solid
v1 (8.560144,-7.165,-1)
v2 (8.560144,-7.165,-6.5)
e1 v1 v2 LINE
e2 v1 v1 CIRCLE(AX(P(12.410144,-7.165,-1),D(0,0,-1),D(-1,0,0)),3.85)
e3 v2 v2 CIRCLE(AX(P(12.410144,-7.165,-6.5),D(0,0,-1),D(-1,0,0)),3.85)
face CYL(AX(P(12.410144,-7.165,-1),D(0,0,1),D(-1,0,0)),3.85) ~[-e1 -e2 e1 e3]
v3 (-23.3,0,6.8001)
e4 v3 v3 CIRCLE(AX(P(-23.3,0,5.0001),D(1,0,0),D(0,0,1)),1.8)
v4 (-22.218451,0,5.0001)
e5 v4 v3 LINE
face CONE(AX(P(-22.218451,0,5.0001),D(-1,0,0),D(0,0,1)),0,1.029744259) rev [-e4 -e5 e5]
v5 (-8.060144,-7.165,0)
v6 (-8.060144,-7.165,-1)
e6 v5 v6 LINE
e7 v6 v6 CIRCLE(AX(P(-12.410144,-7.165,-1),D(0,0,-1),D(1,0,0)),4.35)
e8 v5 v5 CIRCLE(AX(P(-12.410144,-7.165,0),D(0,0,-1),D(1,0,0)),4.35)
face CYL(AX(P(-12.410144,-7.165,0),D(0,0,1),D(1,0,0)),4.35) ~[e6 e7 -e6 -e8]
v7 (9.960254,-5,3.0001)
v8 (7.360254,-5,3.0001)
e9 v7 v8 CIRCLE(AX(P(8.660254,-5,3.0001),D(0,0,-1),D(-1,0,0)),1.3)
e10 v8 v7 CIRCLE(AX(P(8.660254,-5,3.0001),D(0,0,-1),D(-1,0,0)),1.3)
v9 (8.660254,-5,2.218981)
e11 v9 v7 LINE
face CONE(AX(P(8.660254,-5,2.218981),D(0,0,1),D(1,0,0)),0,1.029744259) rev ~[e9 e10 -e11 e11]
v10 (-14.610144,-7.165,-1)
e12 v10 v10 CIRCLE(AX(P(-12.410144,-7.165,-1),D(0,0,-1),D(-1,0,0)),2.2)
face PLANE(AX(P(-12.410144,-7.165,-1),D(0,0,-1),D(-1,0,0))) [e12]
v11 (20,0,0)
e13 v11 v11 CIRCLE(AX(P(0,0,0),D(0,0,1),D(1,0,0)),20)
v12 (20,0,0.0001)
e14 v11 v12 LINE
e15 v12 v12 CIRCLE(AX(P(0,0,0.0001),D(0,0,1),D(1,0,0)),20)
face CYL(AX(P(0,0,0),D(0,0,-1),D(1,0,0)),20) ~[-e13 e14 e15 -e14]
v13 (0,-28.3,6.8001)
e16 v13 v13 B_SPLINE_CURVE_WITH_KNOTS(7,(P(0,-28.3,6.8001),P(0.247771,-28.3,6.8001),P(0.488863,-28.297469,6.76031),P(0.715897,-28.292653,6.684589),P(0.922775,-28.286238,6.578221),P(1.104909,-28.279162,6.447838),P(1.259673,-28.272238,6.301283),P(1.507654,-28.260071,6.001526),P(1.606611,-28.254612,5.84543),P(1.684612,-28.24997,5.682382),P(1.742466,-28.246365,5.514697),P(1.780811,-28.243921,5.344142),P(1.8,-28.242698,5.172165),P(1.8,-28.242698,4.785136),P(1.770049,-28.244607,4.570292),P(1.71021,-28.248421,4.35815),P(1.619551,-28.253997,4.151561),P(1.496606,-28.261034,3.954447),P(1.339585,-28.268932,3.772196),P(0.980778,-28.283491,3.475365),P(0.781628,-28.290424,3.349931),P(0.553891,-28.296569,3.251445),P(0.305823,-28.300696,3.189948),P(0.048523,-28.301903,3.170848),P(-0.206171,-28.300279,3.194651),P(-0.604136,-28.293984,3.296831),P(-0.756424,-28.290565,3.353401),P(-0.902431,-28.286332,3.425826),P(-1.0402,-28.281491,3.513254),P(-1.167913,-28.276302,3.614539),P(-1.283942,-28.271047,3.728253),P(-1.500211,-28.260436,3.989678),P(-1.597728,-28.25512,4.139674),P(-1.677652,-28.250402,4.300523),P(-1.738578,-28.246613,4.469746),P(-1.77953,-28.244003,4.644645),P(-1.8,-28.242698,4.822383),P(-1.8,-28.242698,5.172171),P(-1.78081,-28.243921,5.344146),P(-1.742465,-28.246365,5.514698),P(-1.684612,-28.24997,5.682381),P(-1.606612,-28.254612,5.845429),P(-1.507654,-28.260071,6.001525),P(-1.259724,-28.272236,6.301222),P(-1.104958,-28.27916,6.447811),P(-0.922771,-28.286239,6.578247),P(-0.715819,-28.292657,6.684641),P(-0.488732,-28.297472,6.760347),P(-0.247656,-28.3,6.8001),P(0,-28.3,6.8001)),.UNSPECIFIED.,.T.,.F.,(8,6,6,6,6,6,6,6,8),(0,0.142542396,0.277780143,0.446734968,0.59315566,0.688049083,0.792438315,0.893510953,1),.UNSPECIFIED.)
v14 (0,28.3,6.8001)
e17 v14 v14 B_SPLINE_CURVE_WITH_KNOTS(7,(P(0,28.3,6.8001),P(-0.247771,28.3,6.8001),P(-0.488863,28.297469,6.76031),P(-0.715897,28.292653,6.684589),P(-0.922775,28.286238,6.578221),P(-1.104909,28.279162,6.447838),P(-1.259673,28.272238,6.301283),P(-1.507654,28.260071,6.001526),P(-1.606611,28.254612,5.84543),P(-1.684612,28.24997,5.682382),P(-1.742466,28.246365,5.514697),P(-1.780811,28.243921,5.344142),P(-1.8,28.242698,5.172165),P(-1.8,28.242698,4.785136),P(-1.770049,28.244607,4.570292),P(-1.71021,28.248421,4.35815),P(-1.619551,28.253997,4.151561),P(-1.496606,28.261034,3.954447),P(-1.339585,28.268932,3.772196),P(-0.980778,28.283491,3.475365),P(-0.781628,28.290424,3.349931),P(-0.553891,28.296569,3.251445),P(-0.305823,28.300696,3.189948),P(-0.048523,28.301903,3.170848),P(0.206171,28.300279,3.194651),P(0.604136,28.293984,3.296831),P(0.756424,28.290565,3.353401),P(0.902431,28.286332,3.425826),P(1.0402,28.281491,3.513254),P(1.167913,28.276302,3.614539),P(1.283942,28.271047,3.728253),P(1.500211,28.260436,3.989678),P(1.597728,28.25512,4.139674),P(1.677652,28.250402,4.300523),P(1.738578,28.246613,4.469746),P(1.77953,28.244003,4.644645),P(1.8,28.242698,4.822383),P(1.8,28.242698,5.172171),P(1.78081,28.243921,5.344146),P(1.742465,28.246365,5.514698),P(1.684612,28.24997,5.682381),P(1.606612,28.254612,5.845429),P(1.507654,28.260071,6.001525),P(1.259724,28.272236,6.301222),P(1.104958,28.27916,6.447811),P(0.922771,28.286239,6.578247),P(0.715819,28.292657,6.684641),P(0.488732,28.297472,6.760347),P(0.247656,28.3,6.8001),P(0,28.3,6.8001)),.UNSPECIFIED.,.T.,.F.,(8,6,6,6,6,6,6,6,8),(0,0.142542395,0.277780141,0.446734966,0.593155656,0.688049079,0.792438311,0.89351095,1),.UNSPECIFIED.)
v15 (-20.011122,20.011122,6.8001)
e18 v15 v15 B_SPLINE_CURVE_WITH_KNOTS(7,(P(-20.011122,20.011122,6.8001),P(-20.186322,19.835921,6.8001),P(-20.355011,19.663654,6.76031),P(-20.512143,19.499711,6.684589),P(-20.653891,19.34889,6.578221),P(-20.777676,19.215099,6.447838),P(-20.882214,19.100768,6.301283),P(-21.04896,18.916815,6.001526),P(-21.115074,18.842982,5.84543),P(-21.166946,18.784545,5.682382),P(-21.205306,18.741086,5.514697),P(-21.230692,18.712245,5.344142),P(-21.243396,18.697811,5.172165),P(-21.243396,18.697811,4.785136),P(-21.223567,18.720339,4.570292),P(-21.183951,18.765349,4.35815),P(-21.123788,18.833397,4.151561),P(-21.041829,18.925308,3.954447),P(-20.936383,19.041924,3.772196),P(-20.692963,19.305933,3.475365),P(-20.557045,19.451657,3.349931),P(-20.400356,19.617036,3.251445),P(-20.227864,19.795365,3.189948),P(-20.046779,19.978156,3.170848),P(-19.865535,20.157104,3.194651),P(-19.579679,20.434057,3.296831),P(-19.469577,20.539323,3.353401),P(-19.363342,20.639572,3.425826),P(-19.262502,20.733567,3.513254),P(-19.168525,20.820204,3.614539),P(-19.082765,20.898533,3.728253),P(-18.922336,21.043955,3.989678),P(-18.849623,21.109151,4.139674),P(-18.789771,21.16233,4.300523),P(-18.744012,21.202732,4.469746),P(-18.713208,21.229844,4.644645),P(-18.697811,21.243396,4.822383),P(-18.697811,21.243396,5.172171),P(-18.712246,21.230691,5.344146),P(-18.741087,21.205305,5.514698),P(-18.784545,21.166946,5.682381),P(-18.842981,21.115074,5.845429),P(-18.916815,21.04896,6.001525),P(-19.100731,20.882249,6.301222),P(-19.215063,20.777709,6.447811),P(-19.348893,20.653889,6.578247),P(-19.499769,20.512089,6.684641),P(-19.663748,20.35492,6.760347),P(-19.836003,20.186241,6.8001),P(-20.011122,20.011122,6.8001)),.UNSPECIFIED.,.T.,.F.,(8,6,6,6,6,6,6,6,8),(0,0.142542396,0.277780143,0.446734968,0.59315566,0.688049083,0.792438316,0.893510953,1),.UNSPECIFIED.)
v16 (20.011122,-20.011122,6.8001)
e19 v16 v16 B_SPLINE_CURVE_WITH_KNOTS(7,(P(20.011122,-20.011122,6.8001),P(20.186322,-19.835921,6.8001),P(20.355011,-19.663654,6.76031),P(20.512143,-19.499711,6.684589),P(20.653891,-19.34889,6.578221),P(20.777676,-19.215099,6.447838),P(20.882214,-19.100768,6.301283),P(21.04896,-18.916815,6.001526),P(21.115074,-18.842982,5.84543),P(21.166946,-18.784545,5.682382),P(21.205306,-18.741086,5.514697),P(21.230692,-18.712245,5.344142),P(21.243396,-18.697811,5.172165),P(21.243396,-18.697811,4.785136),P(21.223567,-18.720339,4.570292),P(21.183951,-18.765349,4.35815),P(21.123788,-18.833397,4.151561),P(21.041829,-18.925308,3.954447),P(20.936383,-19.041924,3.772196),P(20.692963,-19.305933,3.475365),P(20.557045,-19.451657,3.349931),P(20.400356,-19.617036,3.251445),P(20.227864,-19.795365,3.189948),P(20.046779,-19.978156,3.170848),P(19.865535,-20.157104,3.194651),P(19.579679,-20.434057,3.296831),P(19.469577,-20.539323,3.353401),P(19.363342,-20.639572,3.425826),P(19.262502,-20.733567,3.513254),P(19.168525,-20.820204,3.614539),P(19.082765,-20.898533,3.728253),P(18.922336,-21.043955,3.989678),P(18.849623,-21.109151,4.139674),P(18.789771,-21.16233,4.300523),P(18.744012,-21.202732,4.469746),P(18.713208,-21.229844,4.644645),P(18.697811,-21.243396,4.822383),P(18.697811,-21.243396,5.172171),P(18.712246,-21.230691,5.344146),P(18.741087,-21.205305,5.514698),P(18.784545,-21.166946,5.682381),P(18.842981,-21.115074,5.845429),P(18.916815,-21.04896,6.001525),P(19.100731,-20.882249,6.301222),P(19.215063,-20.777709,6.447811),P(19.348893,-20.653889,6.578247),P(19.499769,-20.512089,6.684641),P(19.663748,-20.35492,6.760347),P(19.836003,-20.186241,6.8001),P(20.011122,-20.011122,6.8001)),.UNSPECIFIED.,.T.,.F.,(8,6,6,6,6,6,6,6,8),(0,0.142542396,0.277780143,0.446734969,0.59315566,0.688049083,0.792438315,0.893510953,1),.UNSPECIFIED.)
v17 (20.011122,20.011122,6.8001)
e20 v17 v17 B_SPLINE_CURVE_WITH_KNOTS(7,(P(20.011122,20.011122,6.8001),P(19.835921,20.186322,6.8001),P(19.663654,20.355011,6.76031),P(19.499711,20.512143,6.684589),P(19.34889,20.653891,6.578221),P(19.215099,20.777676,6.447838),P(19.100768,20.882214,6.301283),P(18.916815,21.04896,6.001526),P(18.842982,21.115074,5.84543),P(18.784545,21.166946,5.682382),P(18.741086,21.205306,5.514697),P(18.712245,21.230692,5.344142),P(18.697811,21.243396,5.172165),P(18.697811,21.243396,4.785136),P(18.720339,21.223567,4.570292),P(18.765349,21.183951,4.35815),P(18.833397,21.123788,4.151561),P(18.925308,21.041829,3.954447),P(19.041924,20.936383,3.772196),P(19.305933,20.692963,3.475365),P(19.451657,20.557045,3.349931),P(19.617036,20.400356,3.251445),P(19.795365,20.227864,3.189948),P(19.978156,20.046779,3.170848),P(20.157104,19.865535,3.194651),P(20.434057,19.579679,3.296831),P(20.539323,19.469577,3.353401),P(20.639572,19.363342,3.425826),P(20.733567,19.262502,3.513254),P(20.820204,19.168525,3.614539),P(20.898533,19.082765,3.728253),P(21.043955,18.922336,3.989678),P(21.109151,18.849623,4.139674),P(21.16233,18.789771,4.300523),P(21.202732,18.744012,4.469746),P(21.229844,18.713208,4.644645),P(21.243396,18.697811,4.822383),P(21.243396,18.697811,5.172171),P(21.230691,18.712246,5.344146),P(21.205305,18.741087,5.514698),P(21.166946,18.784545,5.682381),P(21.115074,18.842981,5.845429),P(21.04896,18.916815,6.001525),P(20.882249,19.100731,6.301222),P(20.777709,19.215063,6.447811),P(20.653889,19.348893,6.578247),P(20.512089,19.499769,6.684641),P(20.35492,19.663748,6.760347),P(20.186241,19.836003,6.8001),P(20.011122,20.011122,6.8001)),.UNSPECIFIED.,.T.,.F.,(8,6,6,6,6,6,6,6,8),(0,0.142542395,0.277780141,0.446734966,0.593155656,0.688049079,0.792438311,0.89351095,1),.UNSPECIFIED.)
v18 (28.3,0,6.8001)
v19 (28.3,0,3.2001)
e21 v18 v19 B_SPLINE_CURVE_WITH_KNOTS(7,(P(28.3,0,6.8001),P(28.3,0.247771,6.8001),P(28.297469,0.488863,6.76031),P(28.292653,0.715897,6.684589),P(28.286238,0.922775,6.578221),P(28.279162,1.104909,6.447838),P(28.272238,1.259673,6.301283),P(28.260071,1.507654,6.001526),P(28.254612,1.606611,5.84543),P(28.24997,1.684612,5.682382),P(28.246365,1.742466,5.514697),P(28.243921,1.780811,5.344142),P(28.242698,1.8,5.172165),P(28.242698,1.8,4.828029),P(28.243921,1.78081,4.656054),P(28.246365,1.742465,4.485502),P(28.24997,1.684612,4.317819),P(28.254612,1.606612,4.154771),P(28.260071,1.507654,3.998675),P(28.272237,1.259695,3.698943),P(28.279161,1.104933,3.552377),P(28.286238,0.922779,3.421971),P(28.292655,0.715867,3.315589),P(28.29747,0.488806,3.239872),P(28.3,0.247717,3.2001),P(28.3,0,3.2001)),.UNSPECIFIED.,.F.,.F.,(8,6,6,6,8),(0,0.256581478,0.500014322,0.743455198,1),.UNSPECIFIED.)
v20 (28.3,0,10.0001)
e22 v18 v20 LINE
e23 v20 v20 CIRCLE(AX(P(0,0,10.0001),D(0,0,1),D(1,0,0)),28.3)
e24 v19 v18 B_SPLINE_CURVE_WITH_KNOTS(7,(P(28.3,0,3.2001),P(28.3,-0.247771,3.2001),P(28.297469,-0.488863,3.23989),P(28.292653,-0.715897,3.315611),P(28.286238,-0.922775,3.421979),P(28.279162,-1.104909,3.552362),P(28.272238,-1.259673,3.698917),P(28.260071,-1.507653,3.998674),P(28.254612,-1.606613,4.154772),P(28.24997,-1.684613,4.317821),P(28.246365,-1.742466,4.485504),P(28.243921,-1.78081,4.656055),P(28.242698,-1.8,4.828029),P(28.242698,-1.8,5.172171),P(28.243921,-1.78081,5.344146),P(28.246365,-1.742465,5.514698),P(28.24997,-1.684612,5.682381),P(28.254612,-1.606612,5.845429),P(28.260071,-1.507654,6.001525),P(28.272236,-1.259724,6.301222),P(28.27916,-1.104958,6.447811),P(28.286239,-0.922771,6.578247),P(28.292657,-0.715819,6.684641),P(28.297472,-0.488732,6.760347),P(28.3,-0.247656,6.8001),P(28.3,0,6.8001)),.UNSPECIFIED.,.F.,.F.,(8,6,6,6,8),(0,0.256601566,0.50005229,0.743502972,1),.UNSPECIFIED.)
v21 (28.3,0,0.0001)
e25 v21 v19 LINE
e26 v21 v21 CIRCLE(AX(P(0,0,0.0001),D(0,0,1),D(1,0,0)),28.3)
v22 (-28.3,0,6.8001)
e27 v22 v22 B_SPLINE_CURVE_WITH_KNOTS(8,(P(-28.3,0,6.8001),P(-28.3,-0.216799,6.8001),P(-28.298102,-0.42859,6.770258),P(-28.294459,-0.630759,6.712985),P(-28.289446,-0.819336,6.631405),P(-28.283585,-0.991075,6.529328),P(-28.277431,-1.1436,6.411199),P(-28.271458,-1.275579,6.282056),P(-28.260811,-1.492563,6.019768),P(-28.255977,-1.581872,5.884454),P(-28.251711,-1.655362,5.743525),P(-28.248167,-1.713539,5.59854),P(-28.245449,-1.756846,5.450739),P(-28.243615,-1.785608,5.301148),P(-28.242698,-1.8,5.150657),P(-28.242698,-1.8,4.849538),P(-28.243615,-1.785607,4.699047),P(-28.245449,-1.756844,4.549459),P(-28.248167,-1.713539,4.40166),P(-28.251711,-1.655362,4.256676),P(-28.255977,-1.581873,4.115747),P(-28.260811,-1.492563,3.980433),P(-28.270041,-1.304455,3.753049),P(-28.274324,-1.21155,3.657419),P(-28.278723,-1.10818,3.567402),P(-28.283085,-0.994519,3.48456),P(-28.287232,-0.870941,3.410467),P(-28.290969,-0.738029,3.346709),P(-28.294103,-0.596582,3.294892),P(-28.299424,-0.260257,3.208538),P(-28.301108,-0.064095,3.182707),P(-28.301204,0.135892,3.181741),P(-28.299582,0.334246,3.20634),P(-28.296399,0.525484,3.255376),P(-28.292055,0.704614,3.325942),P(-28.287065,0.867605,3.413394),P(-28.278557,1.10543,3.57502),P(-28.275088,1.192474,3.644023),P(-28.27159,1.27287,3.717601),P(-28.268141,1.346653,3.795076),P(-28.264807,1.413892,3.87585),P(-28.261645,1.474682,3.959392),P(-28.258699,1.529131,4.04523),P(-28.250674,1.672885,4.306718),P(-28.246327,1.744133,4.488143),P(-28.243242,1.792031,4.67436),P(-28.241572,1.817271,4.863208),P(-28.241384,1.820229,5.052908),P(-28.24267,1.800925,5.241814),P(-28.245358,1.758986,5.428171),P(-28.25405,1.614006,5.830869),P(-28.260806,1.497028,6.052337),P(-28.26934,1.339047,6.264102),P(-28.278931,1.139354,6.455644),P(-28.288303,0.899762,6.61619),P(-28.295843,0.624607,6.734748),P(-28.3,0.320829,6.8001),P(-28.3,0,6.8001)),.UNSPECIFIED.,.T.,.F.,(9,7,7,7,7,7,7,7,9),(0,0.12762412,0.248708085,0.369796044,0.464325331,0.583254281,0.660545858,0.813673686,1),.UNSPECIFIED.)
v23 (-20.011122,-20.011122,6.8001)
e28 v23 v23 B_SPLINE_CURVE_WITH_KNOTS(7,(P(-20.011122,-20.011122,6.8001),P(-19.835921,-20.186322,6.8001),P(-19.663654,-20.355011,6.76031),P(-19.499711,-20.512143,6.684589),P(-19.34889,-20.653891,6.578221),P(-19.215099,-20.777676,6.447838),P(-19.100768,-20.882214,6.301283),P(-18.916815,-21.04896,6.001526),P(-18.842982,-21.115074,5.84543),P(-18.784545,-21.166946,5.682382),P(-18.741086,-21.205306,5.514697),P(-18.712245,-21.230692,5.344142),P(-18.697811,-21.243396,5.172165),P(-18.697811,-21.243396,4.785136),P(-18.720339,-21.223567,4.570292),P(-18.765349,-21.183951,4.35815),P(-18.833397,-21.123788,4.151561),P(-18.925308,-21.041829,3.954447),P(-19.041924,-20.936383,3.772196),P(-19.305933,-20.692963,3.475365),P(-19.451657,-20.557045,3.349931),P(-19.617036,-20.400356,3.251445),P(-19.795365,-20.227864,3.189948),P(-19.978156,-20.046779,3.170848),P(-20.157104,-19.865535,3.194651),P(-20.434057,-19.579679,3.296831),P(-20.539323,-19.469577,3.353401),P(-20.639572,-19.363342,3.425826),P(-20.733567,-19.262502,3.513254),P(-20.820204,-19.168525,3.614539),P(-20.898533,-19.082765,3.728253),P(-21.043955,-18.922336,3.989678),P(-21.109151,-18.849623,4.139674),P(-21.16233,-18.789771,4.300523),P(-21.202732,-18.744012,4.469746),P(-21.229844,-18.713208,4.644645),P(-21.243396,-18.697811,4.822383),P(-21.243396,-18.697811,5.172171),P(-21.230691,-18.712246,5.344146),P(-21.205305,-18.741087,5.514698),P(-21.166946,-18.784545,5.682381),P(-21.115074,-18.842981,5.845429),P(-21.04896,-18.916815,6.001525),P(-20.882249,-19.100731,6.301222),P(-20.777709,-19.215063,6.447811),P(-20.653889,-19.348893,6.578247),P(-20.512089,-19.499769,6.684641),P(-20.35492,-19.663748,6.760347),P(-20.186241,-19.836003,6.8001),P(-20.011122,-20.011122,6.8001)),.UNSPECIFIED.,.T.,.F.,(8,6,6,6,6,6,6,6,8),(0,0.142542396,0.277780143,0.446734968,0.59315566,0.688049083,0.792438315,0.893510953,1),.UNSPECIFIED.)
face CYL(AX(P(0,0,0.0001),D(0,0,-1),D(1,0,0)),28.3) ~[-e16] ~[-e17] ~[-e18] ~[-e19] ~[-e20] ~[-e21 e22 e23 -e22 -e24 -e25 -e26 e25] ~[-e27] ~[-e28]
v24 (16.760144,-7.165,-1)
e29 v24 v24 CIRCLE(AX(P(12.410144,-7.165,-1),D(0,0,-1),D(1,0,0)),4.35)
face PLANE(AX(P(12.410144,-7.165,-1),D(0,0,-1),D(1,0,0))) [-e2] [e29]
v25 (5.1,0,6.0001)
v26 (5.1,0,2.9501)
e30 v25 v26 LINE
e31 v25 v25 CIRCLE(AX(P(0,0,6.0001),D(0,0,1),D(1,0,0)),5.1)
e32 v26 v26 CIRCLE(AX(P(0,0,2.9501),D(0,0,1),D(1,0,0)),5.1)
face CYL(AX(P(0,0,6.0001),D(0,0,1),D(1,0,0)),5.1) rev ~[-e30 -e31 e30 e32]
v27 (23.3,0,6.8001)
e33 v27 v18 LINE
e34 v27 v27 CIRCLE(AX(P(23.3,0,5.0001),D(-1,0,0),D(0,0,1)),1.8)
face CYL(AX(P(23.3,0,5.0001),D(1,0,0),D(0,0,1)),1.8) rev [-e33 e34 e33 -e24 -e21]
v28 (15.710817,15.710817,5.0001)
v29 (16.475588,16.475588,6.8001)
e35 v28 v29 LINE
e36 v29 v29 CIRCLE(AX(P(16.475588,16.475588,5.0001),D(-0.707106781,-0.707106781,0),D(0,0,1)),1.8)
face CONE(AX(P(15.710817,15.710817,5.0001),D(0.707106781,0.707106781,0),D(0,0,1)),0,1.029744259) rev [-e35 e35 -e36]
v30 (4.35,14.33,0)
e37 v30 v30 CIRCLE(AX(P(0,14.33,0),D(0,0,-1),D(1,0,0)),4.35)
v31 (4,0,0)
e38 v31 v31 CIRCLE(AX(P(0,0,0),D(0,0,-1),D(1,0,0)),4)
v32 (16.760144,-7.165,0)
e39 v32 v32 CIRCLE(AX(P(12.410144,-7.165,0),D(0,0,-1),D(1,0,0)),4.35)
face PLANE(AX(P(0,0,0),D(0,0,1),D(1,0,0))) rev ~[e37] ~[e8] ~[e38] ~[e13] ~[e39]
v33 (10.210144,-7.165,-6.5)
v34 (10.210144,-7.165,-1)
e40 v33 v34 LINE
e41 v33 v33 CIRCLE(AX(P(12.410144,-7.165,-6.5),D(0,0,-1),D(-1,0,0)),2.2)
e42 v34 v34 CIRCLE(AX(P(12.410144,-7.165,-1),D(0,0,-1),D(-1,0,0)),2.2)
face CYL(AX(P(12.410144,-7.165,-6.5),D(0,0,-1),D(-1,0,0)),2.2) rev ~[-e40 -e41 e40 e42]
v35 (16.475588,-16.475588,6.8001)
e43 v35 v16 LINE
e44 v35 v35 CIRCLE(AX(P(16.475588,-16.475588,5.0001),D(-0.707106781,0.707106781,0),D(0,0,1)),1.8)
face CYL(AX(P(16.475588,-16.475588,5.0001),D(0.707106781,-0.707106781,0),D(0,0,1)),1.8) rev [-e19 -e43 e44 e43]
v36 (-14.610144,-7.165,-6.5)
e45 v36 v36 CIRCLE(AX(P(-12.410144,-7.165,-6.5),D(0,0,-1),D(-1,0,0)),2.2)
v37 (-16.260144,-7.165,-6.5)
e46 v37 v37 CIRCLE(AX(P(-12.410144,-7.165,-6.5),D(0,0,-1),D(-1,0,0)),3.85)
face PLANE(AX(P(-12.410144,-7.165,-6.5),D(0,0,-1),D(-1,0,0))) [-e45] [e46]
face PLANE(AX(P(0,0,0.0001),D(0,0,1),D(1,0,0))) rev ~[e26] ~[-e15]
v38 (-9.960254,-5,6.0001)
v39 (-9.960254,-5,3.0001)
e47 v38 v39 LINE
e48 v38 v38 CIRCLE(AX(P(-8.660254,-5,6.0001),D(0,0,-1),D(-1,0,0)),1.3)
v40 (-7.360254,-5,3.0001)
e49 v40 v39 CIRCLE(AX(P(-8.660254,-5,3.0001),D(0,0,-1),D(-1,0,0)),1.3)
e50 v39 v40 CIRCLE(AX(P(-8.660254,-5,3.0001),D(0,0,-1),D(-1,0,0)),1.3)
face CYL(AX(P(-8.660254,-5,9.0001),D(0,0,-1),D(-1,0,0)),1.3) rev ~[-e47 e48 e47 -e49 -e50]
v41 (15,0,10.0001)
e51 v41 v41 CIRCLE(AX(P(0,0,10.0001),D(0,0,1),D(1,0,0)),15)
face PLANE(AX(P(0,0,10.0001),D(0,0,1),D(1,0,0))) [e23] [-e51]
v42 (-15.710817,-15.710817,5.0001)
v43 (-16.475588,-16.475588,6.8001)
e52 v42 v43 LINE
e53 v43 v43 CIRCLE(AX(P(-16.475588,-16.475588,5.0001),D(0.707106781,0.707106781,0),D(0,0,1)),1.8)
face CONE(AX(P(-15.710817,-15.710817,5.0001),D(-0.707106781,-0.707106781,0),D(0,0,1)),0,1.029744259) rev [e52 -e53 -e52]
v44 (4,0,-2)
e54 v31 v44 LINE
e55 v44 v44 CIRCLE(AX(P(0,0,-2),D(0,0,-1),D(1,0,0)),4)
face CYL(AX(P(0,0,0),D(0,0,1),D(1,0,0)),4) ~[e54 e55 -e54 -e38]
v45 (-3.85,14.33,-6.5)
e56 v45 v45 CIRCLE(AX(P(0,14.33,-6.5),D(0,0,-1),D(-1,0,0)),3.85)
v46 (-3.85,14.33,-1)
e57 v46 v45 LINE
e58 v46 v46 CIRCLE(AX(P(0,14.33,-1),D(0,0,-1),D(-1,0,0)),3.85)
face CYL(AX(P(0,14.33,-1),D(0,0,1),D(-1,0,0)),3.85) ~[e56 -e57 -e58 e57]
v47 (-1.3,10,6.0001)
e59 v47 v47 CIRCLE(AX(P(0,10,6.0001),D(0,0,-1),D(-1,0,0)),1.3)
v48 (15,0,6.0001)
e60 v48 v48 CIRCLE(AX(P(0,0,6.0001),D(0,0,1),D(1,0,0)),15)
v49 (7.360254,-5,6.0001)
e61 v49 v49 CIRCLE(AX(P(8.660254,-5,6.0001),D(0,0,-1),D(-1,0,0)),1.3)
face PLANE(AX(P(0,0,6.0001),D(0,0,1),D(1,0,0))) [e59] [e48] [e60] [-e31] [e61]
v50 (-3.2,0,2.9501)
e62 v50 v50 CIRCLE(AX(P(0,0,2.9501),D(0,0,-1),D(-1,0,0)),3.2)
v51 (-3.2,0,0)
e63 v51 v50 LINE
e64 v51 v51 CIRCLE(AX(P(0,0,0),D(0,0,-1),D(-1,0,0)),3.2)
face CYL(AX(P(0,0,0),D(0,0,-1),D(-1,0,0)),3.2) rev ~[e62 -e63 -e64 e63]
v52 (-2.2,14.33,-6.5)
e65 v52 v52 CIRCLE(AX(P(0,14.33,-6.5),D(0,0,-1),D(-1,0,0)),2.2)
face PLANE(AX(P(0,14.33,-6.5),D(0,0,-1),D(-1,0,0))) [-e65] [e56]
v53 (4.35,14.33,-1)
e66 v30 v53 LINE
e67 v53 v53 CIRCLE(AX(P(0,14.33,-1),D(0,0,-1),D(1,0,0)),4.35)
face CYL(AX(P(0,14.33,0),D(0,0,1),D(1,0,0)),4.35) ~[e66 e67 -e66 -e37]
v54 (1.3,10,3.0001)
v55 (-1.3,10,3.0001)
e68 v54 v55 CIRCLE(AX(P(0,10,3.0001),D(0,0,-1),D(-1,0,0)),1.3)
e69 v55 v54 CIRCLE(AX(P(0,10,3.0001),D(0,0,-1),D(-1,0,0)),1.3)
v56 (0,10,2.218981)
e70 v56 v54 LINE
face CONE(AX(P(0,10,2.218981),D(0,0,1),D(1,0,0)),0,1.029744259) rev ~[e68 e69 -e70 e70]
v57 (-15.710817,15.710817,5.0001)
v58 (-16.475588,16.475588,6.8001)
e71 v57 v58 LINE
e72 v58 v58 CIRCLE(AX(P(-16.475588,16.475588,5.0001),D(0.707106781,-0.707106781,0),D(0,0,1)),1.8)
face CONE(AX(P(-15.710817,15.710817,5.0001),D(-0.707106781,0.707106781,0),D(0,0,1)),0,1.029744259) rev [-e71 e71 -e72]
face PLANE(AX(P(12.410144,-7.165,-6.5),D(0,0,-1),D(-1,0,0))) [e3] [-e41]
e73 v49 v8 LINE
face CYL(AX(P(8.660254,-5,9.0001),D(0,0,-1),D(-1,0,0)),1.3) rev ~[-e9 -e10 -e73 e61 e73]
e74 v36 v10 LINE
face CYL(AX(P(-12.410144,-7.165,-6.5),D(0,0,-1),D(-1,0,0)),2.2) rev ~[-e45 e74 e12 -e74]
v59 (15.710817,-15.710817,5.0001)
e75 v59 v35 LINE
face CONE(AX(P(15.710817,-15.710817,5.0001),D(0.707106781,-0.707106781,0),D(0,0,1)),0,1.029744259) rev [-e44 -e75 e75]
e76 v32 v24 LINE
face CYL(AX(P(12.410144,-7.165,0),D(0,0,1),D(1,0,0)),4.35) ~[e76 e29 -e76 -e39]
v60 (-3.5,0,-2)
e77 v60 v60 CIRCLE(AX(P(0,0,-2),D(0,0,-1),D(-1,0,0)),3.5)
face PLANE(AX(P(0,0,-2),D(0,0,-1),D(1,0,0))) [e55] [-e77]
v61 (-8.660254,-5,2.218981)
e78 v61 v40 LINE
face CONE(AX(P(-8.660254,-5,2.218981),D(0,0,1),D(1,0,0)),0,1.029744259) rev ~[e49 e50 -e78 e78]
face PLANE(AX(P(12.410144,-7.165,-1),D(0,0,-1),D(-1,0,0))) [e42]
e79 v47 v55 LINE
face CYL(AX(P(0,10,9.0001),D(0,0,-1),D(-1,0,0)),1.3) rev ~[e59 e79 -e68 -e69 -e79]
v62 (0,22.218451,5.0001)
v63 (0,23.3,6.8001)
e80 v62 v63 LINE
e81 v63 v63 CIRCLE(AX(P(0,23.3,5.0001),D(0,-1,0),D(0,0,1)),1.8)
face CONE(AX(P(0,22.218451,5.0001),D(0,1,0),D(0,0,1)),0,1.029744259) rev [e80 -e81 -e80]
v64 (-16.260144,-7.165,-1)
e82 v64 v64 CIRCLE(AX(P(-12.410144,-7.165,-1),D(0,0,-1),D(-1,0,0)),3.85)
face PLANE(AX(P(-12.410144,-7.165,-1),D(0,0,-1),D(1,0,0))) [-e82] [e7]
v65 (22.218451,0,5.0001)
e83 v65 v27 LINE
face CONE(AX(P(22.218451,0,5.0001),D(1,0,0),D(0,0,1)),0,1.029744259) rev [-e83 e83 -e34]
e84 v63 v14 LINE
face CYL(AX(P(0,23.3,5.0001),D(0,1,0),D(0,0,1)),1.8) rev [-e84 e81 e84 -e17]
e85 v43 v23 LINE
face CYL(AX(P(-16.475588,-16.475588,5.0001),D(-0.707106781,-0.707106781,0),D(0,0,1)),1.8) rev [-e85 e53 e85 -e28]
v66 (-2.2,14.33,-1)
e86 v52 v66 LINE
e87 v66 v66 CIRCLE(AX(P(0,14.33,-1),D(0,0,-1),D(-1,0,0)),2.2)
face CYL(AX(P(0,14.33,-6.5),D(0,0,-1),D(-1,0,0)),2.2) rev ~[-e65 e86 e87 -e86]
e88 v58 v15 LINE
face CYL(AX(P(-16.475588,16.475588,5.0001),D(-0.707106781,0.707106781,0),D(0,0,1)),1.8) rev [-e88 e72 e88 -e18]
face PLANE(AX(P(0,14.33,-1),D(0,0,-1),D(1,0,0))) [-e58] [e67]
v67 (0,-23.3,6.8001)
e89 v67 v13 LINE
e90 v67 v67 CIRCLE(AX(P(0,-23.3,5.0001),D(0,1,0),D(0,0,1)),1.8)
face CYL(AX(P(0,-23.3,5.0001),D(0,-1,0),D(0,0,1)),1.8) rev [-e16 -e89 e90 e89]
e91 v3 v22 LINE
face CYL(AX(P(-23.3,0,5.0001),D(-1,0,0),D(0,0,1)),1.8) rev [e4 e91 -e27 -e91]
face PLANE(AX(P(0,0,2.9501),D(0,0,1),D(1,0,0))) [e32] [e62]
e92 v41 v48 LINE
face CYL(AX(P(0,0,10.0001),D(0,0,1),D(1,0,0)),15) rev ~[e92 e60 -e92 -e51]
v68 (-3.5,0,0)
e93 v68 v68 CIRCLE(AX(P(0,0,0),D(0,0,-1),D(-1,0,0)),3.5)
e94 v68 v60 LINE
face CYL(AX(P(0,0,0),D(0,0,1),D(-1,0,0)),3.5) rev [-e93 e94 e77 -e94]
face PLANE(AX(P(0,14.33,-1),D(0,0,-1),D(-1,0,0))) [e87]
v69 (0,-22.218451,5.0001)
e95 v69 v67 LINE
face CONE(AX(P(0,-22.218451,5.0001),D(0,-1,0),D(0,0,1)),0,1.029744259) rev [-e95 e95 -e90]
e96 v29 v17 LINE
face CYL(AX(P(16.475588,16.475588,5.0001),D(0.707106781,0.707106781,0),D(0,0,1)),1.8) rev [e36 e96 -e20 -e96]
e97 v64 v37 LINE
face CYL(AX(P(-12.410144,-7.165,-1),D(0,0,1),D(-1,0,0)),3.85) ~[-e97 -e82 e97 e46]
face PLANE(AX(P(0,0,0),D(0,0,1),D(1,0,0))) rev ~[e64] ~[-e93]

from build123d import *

# Parameters (mm, degrees)
SKETCH_1_R               = 20
EXTRUDE_1_DEPTH          = 0.0001
SKETCH_2_R               = 4.35
EXTRUDE_2_DEPTH          = 1
SKETCH_3_R               = 3.85
EXTRUDE_3_DEPTH          = 5.5
SKETCH_7_R               = 28.3
EXTRUDE_4_DEPTH          = 10
PATTERN_CIRCULAR_2_COUNT = 8
SKETCH_20_R              = 4
SKETCH_20_R_2            = 3.5
EXTRUDE_5_DEPTH          = 2
SKETCH_21_R              = 3.2
CUT_EXTRUDE_1_DEPTH      = 42.252660699
SKETCH_22_R              = 15
CUT_EXTRUDE_2_DEPTH      = 4
SKETCH_23_R              = 5.1
CUT_EXTRUDE_3_DEPTH      = 3.05
HOLE_WIZARD_M2_1_D       = 2.6
HOLE_WIZARD_M2_1_DEPTH   = 3
HOLE_WIZARD_M2_1_TIP     = 0.781118805
SKETCH_28_R              = 2.2
CUT_EXTRUDE_4_DEPTH      = 5.5


with BuildPart() as part:
    # 스케치1 → 보스-돌출1 (new body)
    with BuildSketch(Plane.XY):
        Circle(SKETCH_1_R)
    extrude(amount=EXTRUDE_1_DEPTH)

    # 스케치2 → 보스-돌출2 (add)
    with BuildSketch(Plane(origin=(0, 0, 0), x_dir=(-1, 0, 0), z_dir=(0, 0, -1))):
        with Locations(Location((0, 14.33, 0), (0, 0, 180))):
            Circle(SKETCH_2_R)
        with Locations(Location((-12.410144036, -7.165, 0), (0, 0, 180))):
            Circle(SKETCH_2_R)
        with Locations(Location((12.410144036, -7.165, 0), (0, 0, 180))):
            Circle(SKETCH_2_R)
    extrude(amount=EXTRUDE_2_DEPTH)

    # 스케치3 → 보스-돌출3 (add)
    with BuildSketch(Plane(origin=(0, 0, -1), x_dir=(-1, 0, 0), z_dir=(0, 0, -1))):
        with Locations((0, 14.33)):
            Circle(SKETCH_3_R)
        with Locations((-12.410144036, -7.165)):
            Circle(SKETCH_3_R)
        with Locations((12.410144036, -7.165)):
            Circle(SKETCH_3_R)
    extrude(amount=EXTRUDE_3_DEPTH)

    # 스케치7 → 보스-돌출4 (add)
    with BuildSketch(Plane.XY.offset(0.0001)):
        Circle(SKETCH_7_R)
    extrude(amount=EXTRUDE_4_DEPTH)

    # 스케치19 → M3 여유 구멍5 (revolve, cut)
    with BuildSketch(Plane(origin=(0, 28.3, 5.0001), x_dir=(0, 0, 1), z_dir=(1, 0, 0))):
        Polygon((0, 0), (0, 6.081549114), (1.8, 5), (1.8, 0), align=None)
    hole_wizard_m3_5 = revolve(axis=Axis((0, 34.65, 5.0001), (0, -1, 0)), mode=Mode.SUBTRACT)

    # 원형 패턴2: M3 여유 구멍5 ×8 about axis
    pattern_circular_2_axis = Axis((0, 0, 10.0001), (0, 0, 1))
    for i in range(1, PATTERN_CIRCULAR_2_COUNT):
        add(hole_wizard_m3_5.rotate(pattern_circular_2_axis, i * 360 / PATTERN_CIRCULAR_2_COUNT), mode=Mode.SUBTRACT)

    # 스케치20 → 보스-돌출5 (add)
    with BuildSketch(Plane(origin=(0, 0, 0), x_dir=(-1, 0, 0), z_dir=(0, 0, -1))):
        with Locations(Location((0, 0, 0), (0, 0, 180))):
            Circle(SKETCH_20_R)
        Circle(SKETCH_20_R_2, mode=Mode.SUBTRACT)
    extrude(amount=EXTRUDE_5_DEPTH)

    # 스케치21 → 컷-돌출1 (cut, through all)
    with BuildSketch(Plane(origin=(0, 0, 0), x_dir=(-1, 0, 0), z_dir=(0, 0, -1))):
        Circle(SKETCH_21_R)
    extrude(amount=-CUT_EXTRUDE_1_DEPTH, mode=Mode.SUBTRACT)

    # 스케치22 → 컷-돌출2 (cut)
    with BuildSketch(Plane.XY.offset(10.0001)):
        Circle(SKETCH_22_R)
    extrude(amount=-CUT_EXTRUDE_2_DEPTH, mode=Mode.SUBTRACT)

    # 스케치23 → 컷-돌출3 (cut)
    with BuildSketch(Plane.XY.offset(6.0001)):
        Circle(SKETCH_23_R)
    extrude(amount=-CUT_EXTRUDE_3_DEPTH, mode=Mode.SUBTRACT)

    # M2 여유 구멍1
    with Locations(Plane(origin=(0, 10, 6.0001), x_dir=(1, 0, 0), z_dir=(0, 0, 1))):
        with Locations((0, 0), (-8.660254038, -15), (8.660254038, -15)):
            Hole(HOLE_WIZARD_M2_1_D / 2, depth=HOLE_WIZARD_M2_1_DEPTH)
            with Locations((0, 0, -(HOLE_WIZARD_M2_1_DEPTH + HOLE_WIZARD_M2_1_TIP / 2))):  # 118° drill point
                Cone(0, HOLE_WIZARD_M2_1_D / 2, HOLE_WIZARD_M2_1_TIP, mode=Mode.SUBTRACT)

    # 스케치28 → 컷-돌출4 (cut)
    with BuildSketch(Plane(origin=(0, 0, -6.5), x_dir=(-1, 0, 0), z_dir=(0, 0, -1))):
        with Locations((0, 14.33)):
            Circle(SKETCH_28_R)
        with Locations((-12.410144036, -7.165)):
            Circle(SKETCH_28_R)
        with Locations((12.410144036, -7.165)):
            Circle(SKETCH_28_R)
    extrude(amount=-CUT_EXTRUDE_4_DEPTH, mode=Mode.SUBTRACT)


solid = part.part
